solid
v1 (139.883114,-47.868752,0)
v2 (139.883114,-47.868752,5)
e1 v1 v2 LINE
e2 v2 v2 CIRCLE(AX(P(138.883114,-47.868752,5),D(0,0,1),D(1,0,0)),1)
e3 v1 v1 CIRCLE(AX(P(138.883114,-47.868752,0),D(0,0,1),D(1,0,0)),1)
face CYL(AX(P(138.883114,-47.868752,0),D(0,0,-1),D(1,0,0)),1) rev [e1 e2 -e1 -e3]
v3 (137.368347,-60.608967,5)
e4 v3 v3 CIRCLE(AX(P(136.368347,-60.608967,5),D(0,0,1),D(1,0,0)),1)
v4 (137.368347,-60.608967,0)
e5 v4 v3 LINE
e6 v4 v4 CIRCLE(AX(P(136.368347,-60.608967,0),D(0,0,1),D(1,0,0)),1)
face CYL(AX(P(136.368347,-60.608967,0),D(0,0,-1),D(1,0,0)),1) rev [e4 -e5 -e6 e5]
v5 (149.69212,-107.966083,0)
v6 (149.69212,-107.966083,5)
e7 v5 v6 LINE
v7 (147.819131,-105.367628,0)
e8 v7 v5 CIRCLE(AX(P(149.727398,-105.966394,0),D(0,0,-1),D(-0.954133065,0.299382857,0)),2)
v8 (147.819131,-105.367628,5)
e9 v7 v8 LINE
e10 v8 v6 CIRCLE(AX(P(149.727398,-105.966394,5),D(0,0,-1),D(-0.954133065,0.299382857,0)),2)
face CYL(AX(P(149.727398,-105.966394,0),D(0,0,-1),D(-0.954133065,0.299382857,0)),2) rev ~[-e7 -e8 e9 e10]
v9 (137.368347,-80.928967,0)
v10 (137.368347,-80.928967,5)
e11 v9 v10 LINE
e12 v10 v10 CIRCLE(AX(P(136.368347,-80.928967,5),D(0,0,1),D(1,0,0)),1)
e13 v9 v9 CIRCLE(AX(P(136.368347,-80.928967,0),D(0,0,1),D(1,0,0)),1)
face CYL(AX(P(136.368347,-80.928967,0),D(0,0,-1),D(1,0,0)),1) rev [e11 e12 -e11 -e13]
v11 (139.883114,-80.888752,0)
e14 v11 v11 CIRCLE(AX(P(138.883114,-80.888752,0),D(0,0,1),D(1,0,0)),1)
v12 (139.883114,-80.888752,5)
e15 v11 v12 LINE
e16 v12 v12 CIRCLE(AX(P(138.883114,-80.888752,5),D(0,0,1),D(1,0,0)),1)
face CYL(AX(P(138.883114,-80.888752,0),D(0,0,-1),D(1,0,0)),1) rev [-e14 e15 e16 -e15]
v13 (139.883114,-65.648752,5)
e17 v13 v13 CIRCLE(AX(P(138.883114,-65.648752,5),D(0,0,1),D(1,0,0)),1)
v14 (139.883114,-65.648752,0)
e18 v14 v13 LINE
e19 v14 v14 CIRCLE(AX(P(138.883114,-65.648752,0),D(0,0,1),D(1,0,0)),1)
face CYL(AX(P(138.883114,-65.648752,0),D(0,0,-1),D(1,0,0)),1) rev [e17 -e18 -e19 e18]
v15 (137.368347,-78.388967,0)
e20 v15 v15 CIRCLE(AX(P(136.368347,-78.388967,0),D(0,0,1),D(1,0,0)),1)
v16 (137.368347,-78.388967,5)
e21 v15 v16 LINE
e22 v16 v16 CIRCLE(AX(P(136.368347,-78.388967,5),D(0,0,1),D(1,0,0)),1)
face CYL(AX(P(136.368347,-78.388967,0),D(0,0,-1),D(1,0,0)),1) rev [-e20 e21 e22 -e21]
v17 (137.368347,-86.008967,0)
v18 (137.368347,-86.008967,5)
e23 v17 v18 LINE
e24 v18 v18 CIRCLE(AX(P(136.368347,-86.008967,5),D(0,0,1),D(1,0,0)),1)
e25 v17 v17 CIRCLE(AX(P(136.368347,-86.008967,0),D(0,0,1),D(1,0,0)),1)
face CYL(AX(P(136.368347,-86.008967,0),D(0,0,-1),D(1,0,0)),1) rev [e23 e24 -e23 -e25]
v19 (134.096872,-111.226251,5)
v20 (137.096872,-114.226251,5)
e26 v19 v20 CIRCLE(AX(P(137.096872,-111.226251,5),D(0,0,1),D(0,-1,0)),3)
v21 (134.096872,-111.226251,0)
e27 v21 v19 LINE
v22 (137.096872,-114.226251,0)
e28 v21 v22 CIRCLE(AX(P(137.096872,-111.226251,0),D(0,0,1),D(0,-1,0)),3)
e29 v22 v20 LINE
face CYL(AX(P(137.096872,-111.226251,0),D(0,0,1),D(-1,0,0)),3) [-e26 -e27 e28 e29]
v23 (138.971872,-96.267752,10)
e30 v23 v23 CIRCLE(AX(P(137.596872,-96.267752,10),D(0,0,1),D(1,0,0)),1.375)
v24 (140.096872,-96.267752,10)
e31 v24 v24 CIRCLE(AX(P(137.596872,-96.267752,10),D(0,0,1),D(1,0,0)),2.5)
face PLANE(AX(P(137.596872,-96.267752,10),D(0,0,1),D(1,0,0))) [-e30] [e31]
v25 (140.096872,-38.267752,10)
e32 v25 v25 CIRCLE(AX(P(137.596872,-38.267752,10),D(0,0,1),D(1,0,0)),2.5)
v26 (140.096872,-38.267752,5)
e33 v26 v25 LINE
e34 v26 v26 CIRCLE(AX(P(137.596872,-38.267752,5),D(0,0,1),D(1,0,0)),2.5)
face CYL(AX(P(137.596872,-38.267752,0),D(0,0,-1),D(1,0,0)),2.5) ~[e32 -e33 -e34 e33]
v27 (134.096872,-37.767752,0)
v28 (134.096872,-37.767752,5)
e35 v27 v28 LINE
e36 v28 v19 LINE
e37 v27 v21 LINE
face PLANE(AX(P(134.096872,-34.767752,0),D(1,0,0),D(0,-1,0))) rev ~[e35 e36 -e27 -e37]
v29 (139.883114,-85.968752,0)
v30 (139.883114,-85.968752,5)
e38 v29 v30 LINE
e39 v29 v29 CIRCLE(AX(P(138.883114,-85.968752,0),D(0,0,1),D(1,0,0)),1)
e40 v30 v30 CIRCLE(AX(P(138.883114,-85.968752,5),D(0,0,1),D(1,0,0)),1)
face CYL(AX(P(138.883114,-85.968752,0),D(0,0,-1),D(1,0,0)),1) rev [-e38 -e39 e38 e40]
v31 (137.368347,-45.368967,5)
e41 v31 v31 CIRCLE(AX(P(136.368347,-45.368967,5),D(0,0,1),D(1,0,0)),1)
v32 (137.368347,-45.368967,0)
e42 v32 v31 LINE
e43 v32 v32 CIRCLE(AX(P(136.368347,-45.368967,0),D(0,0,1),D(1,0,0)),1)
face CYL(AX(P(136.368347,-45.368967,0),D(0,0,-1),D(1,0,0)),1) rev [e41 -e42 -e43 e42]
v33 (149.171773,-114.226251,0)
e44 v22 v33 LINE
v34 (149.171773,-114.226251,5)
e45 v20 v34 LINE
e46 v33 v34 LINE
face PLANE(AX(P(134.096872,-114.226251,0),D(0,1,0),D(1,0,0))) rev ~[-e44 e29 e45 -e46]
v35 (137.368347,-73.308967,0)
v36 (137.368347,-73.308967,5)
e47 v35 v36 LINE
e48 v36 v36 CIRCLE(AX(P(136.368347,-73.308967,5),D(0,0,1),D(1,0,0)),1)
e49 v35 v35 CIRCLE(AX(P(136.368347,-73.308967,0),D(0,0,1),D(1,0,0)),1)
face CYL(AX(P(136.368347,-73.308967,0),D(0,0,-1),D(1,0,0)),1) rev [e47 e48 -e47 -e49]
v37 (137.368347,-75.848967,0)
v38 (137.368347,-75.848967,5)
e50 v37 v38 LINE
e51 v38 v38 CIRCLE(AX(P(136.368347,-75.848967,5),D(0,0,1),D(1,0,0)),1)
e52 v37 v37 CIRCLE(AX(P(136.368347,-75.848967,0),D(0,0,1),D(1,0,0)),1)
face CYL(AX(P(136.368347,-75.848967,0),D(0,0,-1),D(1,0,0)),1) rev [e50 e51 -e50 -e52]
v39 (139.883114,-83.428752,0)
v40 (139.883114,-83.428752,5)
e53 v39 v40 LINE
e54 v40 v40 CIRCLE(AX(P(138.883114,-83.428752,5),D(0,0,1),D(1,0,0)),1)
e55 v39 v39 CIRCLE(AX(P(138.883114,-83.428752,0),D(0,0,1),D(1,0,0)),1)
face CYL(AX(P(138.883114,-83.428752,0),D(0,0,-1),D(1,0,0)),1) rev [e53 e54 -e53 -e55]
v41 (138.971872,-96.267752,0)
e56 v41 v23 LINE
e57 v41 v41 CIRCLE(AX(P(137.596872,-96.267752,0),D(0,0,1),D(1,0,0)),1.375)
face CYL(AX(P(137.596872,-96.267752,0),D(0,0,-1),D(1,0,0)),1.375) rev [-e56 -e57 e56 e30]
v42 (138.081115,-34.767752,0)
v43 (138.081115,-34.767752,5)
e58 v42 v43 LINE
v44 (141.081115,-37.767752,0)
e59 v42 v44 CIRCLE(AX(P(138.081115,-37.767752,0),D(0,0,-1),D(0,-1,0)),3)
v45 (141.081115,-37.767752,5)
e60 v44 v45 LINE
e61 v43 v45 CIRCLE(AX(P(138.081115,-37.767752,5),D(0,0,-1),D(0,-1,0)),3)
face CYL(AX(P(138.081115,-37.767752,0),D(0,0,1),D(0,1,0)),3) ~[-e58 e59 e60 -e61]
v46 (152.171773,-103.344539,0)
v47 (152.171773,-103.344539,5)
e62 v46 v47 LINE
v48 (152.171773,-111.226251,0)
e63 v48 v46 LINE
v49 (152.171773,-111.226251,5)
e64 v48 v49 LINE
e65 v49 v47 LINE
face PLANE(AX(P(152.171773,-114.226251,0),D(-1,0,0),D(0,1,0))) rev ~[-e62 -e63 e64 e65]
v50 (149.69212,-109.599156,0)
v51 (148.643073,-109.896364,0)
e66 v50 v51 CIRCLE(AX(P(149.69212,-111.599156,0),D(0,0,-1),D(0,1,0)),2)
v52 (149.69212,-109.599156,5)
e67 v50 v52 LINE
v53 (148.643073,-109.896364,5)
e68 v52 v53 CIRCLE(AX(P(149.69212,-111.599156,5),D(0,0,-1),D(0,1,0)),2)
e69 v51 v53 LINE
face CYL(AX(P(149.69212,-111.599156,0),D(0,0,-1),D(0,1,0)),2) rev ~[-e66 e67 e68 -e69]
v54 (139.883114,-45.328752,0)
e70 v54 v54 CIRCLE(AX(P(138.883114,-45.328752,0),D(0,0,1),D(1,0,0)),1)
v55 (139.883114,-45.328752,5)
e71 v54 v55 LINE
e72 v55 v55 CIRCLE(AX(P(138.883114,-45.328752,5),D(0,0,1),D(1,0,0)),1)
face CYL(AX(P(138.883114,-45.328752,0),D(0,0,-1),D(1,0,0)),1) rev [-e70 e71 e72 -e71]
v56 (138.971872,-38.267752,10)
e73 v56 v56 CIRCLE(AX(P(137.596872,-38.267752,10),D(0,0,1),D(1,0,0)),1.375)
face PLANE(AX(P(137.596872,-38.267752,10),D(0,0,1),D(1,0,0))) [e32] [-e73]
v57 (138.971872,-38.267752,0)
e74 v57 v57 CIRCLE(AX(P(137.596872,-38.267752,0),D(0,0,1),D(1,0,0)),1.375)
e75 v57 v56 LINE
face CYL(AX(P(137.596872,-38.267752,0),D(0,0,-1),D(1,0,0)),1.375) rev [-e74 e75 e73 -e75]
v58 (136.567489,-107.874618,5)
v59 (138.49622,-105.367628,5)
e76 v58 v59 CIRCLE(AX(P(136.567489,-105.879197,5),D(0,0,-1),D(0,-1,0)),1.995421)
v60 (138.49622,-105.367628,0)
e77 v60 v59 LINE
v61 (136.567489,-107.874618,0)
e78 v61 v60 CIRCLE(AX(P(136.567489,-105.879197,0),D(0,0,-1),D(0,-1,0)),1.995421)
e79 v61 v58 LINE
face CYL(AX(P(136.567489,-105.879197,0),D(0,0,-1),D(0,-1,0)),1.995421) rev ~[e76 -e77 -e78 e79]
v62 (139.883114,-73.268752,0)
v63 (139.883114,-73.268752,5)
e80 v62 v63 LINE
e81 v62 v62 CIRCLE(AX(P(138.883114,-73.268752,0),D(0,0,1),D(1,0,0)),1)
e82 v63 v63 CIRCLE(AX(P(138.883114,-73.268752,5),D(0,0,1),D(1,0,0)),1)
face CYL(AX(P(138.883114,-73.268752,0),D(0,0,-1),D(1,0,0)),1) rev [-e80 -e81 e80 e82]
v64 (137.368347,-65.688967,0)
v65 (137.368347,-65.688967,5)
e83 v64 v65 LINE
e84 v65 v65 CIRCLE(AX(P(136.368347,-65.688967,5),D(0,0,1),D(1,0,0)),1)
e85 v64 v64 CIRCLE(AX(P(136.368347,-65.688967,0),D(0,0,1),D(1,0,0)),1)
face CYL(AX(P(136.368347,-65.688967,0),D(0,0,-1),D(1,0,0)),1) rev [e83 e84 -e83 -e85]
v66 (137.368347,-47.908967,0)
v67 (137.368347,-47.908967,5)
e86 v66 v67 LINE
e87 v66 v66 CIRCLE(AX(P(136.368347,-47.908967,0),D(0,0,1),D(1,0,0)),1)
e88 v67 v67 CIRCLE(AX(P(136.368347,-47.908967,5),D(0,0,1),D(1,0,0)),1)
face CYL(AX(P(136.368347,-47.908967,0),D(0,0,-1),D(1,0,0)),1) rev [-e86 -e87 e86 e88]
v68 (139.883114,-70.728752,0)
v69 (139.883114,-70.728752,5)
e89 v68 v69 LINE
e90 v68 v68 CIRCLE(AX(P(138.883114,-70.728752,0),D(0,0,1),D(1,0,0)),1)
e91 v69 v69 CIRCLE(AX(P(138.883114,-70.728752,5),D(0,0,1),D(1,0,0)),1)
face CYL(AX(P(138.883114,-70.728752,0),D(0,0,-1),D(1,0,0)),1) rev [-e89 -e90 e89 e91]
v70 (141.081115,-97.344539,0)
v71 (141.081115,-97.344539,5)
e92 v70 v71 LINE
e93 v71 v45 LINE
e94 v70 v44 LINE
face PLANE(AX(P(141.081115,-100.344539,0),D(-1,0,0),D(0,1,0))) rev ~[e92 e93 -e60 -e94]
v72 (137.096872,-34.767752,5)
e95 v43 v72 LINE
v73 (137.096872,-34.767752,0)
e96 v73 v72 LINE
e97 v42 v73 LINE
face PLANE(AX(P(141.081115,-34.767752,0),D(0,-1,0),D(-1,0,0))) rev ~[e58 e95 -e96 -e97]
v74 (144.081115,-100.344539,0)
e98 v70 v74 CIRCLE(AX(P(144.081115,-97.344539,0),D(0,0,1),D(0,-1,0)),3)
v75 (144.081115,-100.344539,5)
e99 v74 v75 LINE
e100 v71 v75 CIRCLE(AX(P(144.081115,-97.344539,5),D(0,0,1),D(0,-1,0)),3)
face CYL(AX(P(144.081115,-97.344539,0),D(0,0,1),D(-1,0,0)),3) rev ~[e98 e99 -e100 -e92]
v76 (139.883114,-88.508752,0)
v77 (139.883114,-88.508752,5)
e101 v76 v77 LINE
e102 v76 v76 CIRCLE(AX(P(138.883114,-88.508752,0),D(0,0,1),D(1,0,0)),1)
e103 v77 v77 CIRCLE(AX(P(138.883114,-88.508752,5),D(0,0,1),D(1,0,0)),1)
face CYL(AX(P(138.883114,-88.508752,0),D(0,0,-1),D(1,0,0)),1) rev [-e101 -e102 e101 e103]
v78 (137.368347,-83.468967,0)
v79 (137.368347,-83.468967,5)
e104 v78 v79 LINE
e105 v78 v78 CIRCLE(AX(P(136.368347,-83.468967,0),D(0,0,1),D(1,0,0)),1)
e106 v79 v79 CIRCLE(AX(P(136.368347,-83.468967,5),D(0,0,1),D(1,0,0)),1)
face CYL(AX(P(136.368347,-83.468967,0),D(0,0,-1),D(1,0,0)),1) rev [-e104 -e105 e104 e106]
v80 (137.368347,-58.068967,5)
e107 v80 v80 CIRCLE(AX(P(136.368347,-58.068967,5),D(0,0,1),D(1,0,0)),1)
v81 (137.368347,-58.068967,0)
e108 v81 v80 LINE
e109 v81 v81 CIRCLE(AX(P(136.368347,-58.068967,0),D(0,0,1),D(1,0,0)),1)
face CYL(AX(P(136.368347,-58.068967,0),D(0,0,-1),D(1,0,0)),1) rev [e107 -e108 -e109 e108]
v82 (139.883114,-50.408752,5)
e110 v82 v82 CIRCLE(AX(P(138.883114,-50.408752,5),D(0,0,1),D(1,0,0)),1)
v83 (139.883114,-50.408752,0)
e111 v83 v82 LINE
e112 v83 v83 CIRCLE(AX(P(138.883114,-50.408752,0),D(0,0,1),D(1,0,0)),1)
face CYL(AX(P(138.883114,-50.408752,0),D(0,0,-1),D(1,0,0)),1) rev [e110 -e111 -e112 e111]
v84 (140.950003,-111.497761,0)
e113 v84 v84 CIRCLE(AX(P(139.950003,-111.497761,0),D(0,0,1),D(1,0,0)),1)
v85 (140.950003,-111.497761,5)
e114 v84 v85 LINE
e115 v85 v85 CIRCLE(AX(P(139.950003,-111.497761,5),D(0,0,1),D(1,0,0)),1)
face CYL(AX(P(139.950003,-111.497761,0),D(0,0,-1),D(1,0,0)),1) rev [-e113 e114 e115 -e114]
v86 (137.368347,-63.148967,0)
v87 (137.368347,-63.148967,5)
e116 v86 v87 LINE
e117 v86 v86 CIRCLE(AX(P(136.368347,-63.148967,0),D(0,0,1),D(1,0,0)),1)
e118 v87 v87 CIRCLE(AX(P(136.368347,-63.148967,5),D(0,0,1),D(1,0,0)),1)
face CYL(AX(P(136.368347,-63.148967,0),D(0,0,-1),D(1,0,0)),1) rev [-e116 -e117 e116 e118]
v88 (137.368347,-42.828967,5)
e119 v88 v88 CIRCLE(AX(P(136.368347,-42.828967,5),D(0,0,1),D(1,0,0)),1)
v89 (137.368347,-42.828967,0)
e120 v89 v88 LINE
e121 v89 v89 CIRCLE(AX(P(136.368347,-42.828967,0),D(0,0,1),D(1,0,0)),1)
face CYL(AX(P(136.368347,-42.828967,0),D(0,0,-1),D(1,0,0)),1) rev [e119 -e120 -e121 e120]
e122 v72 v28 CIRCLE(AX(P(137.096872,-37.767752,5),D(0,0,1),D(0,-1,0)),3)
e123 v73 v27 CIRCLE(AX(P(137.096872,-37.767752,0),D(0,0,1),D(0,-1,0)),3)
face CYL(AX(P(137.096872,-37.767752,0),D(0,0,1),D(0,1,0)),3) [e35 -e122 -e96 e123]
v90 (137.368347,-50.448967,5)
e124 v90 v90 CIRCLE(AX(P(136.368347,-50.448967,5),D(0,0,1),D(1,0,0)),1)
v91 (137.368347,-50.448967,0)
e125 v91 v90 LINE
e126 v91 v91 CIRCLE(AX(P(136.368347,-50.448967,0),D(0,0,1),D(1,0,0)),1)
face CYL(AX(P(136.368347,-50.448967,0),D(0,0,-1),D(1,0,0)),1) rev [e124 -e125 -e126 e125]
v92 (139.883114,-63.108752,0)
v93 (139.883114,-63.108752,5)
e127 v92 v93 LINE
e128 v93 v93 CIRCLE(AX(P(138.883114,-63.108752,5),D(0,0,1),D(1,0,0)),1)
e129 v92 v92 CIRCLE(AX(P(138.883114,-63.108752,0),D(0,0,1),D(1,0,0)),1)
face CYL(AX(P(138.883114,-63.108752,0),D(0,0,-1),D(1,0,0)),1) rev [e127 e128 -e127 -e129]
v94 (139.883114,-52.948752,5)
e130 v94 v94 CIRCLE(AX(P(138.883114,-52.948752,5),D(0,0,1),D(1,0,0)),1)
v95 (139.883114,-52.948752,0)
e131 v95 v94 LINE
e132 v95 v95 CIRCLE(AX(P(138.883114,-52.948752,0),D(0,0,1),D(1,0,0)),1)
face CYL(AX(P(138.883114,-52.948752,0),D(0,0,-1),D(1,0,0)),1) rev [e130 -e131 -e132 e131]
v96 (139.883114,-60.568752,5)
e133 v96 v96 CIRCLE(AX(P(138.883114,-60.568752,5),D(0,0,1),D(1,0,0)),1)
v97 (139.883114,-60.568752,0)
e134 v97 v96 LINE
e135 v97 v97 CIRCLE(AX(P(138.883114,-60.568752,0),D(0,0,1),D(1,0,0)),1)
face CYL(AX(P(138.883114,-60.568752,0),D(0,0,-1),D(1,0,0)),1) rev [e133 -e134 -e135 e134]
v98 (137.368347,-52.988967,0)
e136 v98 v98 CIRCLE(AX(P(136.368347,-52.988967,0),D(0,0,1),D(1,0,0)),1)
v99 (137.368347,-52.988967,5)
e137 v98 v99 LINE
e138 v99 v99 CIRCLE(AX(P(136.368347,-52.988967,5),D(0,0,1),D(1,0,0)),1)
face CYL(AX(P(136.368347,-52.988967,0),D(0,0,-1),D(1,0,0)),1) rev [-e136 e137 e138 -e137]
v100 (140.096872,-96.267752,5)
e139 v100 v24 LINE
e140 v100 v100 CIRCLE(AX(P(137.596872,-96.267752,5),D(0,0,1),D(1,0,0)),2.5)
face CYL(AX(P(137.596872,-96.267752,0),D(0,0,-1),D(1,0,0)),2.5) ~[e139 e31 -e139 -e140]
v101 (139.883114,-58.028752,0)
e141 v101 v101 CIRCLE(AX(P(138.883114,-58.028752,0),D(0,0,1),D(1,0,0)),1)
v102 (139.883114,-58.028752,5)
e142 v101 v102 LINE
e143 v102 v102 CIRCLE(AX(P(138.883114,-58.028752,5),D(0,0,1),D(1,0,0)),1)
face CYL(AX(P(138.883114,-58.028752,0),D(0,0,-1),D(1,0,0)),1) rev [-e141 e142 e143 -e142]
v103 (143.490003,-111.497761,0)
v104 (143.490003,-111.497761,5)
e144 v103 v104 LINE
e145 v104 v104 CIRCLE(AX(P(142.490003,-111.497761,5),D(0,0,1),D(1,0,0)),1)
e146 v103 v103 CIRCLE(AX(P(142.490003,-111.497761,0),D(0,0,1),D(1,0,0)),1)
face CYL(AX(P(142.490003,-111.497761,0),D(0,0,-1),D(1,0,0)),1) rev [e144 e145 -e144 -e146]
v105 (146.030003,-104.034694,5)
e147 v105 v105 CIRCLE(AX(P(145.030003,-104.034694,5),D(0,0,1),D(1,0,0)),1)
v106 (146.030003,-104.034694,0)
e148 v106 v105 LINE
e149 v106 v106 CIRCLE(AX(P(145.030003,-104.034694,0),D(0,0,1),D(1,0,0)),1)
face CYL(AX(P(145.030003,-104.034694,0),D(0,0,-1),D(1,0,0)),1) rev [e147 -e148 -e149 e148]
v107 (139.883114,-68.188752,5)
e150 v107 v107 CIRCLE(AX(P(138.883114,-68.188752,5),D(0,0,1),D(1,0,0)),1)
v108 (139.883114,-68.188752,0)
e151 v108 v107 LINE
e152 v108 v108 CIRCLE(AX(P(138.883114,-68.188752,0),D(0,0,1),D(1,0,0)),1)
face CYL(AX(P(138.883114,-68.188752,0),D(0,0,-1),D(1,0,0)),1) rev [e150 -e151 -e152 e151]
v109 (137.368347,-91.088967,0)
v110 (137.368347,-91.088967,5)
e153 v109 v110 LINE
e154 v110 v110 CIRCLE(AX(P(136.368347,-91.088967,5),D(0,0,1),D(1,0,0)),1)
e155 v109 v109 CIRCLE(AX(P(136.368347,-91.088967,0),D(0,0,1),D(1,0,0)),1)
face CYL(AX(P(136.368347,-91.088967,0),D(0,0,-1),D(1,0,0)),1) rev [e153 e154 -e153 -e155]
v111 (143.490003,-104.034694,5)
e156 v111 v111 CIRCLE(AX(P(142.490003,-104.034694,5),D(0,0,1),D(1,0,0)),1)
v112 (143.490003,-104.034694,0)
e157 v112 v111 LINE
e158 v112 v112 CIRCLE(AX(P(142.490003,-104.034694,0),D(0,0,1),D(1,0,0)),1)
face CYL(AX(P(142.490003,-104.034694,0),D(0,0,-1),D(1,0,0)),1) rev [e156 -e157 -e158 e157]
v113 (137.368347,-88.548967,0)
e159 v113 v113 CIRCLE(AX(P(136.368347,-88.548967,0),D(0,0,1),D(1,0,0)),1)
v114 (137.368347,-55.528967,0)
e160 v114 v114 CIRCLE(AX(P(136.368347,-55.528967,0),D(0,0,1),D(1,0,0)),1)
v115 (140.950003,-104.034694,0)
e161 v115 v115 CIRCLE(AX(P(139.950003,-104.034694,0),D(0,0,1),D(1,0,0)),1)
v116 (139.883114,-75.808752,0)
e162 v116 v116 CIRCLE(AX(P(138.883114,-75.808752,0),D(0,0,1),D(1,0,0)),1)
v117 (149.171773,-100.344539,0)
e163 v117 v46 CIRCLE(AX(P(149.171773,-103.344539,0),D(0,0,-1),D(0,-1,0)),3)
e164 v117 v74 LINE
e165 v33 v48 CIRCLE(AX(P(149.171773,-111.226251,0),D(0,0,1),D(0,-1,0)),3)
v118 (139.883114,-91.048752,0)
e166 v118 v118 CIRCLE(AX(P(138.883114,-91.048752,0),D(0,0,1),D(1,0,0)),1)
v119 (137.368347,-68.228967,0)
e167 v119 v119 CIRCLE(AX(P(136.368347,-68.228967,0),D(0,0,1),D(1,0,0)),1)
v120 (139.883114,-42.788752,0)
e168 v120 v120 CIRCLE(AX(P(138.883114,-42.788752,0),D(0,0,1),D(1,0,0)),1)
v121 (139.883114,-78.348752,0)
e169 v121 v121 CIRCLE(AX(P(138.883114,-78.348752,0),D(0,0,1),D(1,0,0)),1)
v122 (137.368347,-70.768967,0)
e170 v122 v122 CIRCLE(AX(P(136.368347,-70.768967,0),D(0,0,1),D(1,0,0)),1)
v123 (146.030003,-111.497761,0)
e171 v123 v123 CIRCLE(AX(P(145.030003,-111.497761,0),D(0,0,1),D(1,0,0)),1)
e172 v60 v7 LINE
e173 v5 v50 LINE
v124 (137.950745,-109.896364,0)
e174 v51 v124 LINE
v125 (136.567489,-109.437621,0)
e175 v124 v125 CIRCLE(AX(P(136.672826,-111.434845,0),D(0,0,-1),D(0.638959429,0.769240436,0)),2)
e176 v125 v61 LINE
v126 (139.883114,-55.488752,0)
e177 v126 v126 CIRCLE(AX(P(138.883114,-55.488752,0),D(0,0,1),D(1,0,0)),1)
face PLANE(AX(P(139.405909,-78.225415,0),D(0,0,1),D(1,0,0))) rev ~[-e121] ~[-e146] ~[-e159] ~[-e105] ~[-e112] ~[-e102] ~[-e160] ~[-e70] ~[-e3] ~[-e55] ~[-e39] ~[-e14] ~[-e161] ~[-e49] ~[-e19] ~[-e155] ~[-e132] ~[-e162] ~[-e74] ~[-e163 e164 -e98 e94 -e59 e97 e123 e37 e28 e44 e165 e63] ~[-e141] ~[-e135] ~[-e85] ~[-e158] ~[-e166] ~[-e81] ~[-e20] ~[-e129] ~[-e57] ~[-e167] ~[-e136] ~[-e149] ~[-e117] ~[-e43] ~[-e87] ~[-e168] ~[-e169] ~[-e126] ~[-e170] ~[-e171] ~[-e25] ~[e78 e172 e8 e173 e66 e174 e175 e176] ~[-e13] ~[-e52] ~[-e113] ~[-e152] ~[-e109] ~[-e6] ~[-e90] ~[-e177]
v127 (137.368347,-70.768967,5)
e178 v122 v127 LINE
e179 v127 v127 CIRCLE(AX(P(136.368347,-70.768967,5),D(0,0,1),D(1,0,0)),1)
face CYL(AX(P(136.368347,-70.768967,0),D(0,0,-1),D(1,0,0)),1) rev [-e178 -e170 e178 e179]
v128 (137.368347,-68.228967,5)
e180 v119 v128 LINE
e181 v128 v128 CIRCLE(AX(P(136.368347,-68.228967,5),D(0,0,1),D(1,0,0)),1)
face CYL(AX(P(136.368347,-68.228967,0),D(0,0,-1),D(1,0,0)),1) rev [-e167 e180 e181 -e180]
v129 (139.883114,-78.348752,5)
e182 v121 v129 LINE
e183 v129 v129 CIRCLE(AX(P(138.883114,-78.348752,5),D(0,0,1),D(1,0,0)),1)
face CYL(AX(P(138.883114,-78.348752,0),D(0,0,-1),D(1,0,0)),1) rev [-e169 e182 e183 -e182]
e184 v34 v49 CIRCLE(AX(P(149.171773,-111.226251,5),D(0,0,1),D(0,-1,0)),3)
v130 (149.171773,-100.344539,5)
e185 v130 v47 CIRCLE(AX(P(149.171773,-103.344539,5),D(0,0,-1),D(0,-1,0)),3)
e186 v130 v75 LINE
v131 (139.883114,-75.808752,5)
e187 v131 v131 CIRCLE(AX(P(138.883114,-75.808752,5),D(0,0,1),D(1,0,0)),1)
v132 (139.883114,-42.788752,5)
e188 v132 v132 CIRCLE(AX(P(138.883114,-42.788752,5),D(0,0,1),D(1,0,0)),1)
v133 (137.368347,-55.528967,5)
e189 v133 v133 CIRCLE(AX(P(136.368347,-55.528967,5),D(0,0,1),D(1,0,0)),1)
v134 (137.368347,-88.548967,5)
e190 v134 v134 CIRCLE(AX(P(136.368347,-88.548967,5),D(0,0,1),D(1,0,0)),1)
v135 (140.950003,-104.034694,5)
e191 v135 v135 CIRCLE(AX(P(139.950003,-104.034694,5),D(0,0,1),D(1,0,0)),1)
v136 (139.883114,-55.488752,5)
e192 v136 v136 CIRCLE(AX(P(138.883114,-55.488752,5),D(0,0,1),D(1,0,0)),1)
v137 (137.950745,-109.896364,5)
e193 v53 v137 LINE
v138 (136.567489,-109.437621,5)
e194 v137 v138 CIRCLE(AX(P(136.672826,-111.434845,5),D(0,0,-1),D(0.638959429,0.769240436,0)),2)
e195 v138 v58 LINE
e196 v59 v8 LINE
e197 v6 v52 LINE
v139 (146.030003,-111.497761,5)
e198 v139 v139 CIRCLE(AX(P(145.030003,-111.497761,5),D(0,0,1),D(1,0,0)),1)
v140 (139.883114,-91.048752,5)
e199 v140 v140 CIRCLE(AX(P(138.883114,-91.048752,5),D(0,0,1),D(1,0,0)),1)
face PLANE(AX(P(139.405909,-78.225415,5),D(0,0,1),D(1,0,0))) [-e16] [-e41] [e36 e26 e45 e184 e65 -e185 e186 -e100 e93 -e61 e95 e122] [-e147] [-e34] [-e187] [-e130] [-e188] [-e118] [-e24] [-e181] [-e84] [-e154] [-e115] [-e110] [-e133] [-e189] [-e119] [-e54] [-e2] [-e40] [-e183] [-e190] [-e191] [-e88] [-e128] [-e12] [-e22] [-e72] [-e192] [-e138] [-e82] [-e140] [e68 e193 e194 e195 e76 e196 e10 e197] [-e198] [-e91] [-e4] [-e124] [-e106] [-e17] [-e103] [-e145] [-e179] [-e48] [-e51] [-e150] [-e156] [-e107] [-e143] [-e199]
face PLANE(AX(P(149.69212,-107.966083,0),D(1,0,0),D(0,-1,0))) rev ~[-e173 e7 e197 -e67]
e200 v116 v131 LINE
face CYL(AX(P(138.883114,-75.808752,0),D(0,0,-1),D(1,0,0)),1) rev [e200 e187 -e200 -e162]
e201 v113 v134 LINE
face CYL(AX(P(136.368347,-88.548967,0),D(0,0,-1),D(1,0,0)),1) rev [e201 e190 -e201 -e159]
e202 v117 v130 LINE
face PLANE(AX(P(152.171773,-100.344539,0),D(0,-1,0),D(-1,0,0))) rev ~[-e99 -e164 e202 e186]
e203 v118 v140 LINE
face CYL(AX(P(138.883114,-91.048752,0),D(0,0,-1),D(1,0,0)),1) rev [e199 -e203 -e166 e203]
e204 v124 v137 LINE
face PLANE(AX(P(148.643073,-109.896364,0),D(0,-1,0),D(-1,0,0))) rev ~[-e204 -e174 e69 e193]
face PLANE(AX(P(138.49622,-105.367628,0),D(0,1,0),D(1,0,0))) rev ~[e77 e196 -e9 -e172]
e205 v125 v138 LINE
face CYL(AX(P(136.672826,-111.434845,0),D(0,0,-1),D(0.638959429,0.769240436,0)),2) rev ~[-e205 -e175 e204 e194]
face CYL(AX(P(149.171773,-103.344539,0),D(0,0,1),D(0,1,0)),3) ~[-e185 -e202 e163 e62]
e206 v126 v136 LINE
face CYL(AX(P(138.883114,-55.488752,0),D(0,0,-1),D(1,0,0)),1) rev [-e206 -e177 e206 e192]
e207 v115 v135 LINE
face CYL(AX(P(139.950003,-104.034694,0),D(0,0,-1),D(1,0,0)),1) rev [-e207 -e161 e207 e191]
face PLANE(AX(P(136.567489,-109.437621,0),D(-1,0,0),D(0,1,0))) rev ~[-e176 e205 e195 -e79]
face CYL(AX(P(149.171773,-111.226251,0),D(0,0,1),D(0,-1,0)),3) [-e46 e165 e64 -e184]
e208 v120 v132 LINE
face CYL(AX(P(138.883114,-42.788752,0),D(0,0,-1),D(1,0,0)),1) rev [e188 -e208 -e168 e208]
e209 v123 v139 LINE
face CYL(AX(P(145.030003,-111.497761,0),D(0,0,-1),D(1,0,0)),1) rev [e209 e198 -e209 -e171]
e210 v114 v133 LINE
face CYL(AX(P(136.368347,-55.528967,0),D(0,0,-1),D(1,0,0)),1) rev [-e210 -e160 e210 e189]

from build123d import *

# Parameters (mm, degrees)
SKETCH2_R       = 2.5
SKETCH2_R_2     = 1
MAIN_BODY_DEPTH = 5
FILLET1_R       = 3
SKETCH2_3_R     = 2.5
SKETCH2_3_R_2   = 1.375
STRAWS_DEPTH    = 10


with BuildPart() as part:
    # Sketch2 → Main Body (new body)
    with BuildSketch(Plane.XY):
        Polygon((141.081115161, -34.767752), (134.096872, -34.767752), (134.096872, -114.226250672), (152.171772965, -114.226250672), (152.171772965, -100.344538887), (141.081115161, -100.344538887), align=None)
        with Locations((137.596872, -96.267752)):
            Circle(SKETCH2_R, mode=Mode.SUBTRACT)
        with Locations((136.368346882, -91.088967224)):
            Circle(SKETCH2_R_2, mode=Mode.SUBTRACT)
        with Locations((136.368346882, -88.548967224)):
            Circle(SKETCH2_R_2, mode=Mode.SUBTRACT)
        with Locations((136.368346882, -86.008967224)):
            Circle(SKETCH2_R_2, mode=Mode.SUBTRACT)
        with Locations((136.368346882, -83.468967224)):
            Circle(SKETCH2_R_2, mode=Mode.SUBTRACT)
        with Locations((136.368346882, -80.928967224)):
            Circle(SKETCH2_R_2, mode=Mode.SUBTRACT)
        with Locations((136.368346882, -78.388967224)):
            Circle(SKETCH2_R_2, mode=Mode.SUBTRACT)
        with Locations((136.368346882, -75.848967224)):
            Circle(SKETCH2_R_2, mode=Mode.SUBTRACT)
        with Locations((138.883114052, -91.04875221)):
            Circle(SKETCH2_R_2, mode=Mode.SUBTRACT)
        with Locations((138.883114052, -88.50875221)):
            Circle(SKETCH2_R_2, mode=Mode.SUBTRACT)
        with Locations((138.883114052, -85.96875221)):
            Circle(SKETCH2_R_2, mode=Mode.SUBTRACT)
        with Locations((138.883114052, -83.42875221)):
            Circle(SKETCH2_R_2, mode=Mode.SUBTRACT)
        with Locations((138.883114052, -80.88875221)):
            Circle(SKETCH2_R_2, mode=Mode.SUBTRACT)
        with Locations((138.883114052, -78.34875221)):
            Circle(SKETCH2_R_2, mode=Mode.SUBTRACT)
        with Locations((138.883114052, -75.80875221)):
            Circle(SKETCH2_R_2, mode=Mode.SUBTRACT)
        with Locations((136.368346882, -73.308967224)):
            Circle(SKETCH2_R_2, mode=Mode.SUBTRACT)
        with Locations((136.368346882, -70.768967224)):
            Circle(SKETCH2_R_2, mode=Mode.SUBTRACT)
        with Locations((136.368346882, -68.228967224)):
            Circle(SKETCH2_R_2, mode=Mode.SUBTRACT)
        with Locations((136.368346882, -65.688967224)):
            Circle(SKETCH2_R_2, mode=Mode.SUBTRACT)
        with Locations((136.368346882, -63.148967224)):
            Circle(SKETCH2_R_2, mode=Mode.SUBTRACT)
        with Locations((136.368346882, -60.608967224)):
            Circle(SKETCH2_R_2, mode=Mode.SUBTRACT)
        with Locations((136.368346882, -58.068967224)):
            Circle(SKETCH2_R_2, mode=Mode.SUBTRACT)
        with Locations((136.368346882, -55.528967224)):
            Circle(SKETCH2_R_2, mode=Mode.SUBTRACT)
        with Locations((138.883114052, -73.26875221)):
            Circle(SKETCH2_R_2, mode=Mode.SUBTRACT)
        with Locations((138.883114052, -70.72875221)):
            Circle(SKETCH2_R_2, mode=Mode.SUBTRACT)
        with Locations((138.883114052, -68.18875221)):
            Circle(SKETCH2_R_2, mode=Mode.SUBTRACT)
        with Locations((138.883114052, -65.64875221)):
            Circle(SKETCH2_R_2, mode=Mode.SUBTRACT)
        with Locations((138.883114052, -63.10875221)):
            Circle(SKETCH2_R_2, mode=Mode.SUBTRACT)
        with Locations((138.883114052, -60.56875221)):
            Circle(SKETCH2_R_2, mode=Mode.SUBTRACT)
        with Locations((138.883114052, -58.02875221)):
            Circle(SKETCH2_R_2, mode=Mode.SUBTRACT)
        with Locations((138.883114052, -55.48875221)):
            Circle(SKETCH2_R_2, mode=Mode.SUBTRACT)
        with Locations((136.368346882, -52.988967224)):
            Circle(SKETCH2_R_2, mode=Mode.SUBTRACT)
        with Locations((136.368346882, -50.448967224)):
            Circle(SKETCH2_R_2, mode=Mode.SUBTRACT)
        with Locations((136.368346882, -47.908967224)):
            Circle(SKETCH2_R_2, mode=Mode.SUBTRACT)
        with Locations((136.368346882, -45.368967224)):
            Circle(SKETCH2_R_2, mode=Mode.SUBTRACT)
        with Locations((136.368346882, -42.828967224)):
            Circle(SKETCH2_R_2, mode=Mode.SUBTRACT)
        with Locations((137.596872, -38.267752)):
            Circle(SKETCH2_R, mode=Mode.SUBTRACT)
        with Locations((138.883114052, -52.94875221)):
            Circle(SKETCH2_R_2, mode=Mode.SUBTRACT)
        with Locations((138.883114052, -50.40875221)):
            Circle(SKETCH2_R_2, mode=Mode.SUBTRACT)
        with Locations((138.883114052, -47.86875221)):
            Circle(SKETCH2_R_2, mode=Mode.SUBTRACT)
        with Locations((138.883114052, -45.32875221)):
            Circle(SKETCH2_R_2, mode=Mode.SUBTRACT)
        with Locations((138.883114052, -42.78875221)):
            Circle(SKETCH2_R_2, mode=Mode.SUBTRACT)
        with Locations((145.030003125, -104.034694376)):
            Circle(SKETCH2_R_2, mode=Mode.SUBTRACT)
        with BuildLine():
            Line((138.496220073, -105.367628272), (147.819131421, -105.367628272))
            ThreePointArc((147.819131421, -105.367628272), (151.349843906, -104.796920677), (149.692119851, -107.966082833))
            Line((149.692119851, -107.966082833), (149.692119851, -109.599156243))
            ThreePointArc((149.692119851, -109.599156243), (150.237287523, -113.523420313), (148.643073288, -109.896364034))
            Line((148.643073288, -109.896364034), (137.950744717, -109.896364034))
            ThreePointArc((137.950744717, -109.896364034), (136.043263655, -113.333173494), (136.567489161, -109.437620787))
            Line((136.567489161, -109.437620787), (136.567489161, -107.874618377))
            ThreePointArc((136.567489161, -107.874618377), (134.985954912, -104.66245765), (138.496220073, -105.367628272))
        make_face(mode=Mode.SUBTRACT)
        with Locations((139.950003125, -111.497761483)):
            Circle(SKETCH2_R_2, mode=Mode.SUBTRACT)
        with Locations((142.490003125, -111.497761483)):
            Circle(SKETCH2_R_2, mode=Mode.SUBTRACT)
        with Locations((139.950003125, -104.034694376)):
            Circle(SKETCH2_R_2, mode=Mode.SUBTRACT)
        with Locations((142.490003125, -104.034694376)):
            Circle(SKETCH2_R_2, mode=Mode.SUBTRACT)
        with Locations((145.030003125, -111.497761483)):
            Circle(SKETCH2_R_2, mode=Mode.SUBTRACT)
    extrude(amount=MAIN_BODY_DEPTH)

    # Fillet1
    fillet1_edges = [part.edges().sort_by_distance(p)[0] for p in [
        (134.096872, -34.767752, 2.5),
        (141.081115161, -34.767752, 2.5),
        (141.081115161, -100.344538887, 2.5),
        (152.171772965, -100.344538887, 2.5),
        (152.171772965, -114.226250672, 2.5),
        (134.096872, -114.226250672, 2.5),
    ]]
    fillet(fillet1_edges, radius=FILLET1_R)

    # Sketch2<3> → Straws (add)
    # profile 1 of 2: a face of its own
    with BuildSketch(Plane.XY):
        with Locations((137.596872, -38.267752)):
            Circle(SKETCH2_3_R)
        with Locations((137.596872, -38.267752)):
            Circle(SKETCH2_3_R_2, mode=Mode.SUBTRACT)
    # profile 2 of 2: a face of its own
    with BuildSketch(Plane.XY):
        with Locations((137.596872, -96.267752)):
            Circle(SKETCH2_3_R)
        with Locations((137.596872, -96.267752)):
            Circle(SKETCH2_3_R_2, mode=Mode.SUBTRACT)
    extrude(amount=STRAWS_DEPTH)


solid = part.part
